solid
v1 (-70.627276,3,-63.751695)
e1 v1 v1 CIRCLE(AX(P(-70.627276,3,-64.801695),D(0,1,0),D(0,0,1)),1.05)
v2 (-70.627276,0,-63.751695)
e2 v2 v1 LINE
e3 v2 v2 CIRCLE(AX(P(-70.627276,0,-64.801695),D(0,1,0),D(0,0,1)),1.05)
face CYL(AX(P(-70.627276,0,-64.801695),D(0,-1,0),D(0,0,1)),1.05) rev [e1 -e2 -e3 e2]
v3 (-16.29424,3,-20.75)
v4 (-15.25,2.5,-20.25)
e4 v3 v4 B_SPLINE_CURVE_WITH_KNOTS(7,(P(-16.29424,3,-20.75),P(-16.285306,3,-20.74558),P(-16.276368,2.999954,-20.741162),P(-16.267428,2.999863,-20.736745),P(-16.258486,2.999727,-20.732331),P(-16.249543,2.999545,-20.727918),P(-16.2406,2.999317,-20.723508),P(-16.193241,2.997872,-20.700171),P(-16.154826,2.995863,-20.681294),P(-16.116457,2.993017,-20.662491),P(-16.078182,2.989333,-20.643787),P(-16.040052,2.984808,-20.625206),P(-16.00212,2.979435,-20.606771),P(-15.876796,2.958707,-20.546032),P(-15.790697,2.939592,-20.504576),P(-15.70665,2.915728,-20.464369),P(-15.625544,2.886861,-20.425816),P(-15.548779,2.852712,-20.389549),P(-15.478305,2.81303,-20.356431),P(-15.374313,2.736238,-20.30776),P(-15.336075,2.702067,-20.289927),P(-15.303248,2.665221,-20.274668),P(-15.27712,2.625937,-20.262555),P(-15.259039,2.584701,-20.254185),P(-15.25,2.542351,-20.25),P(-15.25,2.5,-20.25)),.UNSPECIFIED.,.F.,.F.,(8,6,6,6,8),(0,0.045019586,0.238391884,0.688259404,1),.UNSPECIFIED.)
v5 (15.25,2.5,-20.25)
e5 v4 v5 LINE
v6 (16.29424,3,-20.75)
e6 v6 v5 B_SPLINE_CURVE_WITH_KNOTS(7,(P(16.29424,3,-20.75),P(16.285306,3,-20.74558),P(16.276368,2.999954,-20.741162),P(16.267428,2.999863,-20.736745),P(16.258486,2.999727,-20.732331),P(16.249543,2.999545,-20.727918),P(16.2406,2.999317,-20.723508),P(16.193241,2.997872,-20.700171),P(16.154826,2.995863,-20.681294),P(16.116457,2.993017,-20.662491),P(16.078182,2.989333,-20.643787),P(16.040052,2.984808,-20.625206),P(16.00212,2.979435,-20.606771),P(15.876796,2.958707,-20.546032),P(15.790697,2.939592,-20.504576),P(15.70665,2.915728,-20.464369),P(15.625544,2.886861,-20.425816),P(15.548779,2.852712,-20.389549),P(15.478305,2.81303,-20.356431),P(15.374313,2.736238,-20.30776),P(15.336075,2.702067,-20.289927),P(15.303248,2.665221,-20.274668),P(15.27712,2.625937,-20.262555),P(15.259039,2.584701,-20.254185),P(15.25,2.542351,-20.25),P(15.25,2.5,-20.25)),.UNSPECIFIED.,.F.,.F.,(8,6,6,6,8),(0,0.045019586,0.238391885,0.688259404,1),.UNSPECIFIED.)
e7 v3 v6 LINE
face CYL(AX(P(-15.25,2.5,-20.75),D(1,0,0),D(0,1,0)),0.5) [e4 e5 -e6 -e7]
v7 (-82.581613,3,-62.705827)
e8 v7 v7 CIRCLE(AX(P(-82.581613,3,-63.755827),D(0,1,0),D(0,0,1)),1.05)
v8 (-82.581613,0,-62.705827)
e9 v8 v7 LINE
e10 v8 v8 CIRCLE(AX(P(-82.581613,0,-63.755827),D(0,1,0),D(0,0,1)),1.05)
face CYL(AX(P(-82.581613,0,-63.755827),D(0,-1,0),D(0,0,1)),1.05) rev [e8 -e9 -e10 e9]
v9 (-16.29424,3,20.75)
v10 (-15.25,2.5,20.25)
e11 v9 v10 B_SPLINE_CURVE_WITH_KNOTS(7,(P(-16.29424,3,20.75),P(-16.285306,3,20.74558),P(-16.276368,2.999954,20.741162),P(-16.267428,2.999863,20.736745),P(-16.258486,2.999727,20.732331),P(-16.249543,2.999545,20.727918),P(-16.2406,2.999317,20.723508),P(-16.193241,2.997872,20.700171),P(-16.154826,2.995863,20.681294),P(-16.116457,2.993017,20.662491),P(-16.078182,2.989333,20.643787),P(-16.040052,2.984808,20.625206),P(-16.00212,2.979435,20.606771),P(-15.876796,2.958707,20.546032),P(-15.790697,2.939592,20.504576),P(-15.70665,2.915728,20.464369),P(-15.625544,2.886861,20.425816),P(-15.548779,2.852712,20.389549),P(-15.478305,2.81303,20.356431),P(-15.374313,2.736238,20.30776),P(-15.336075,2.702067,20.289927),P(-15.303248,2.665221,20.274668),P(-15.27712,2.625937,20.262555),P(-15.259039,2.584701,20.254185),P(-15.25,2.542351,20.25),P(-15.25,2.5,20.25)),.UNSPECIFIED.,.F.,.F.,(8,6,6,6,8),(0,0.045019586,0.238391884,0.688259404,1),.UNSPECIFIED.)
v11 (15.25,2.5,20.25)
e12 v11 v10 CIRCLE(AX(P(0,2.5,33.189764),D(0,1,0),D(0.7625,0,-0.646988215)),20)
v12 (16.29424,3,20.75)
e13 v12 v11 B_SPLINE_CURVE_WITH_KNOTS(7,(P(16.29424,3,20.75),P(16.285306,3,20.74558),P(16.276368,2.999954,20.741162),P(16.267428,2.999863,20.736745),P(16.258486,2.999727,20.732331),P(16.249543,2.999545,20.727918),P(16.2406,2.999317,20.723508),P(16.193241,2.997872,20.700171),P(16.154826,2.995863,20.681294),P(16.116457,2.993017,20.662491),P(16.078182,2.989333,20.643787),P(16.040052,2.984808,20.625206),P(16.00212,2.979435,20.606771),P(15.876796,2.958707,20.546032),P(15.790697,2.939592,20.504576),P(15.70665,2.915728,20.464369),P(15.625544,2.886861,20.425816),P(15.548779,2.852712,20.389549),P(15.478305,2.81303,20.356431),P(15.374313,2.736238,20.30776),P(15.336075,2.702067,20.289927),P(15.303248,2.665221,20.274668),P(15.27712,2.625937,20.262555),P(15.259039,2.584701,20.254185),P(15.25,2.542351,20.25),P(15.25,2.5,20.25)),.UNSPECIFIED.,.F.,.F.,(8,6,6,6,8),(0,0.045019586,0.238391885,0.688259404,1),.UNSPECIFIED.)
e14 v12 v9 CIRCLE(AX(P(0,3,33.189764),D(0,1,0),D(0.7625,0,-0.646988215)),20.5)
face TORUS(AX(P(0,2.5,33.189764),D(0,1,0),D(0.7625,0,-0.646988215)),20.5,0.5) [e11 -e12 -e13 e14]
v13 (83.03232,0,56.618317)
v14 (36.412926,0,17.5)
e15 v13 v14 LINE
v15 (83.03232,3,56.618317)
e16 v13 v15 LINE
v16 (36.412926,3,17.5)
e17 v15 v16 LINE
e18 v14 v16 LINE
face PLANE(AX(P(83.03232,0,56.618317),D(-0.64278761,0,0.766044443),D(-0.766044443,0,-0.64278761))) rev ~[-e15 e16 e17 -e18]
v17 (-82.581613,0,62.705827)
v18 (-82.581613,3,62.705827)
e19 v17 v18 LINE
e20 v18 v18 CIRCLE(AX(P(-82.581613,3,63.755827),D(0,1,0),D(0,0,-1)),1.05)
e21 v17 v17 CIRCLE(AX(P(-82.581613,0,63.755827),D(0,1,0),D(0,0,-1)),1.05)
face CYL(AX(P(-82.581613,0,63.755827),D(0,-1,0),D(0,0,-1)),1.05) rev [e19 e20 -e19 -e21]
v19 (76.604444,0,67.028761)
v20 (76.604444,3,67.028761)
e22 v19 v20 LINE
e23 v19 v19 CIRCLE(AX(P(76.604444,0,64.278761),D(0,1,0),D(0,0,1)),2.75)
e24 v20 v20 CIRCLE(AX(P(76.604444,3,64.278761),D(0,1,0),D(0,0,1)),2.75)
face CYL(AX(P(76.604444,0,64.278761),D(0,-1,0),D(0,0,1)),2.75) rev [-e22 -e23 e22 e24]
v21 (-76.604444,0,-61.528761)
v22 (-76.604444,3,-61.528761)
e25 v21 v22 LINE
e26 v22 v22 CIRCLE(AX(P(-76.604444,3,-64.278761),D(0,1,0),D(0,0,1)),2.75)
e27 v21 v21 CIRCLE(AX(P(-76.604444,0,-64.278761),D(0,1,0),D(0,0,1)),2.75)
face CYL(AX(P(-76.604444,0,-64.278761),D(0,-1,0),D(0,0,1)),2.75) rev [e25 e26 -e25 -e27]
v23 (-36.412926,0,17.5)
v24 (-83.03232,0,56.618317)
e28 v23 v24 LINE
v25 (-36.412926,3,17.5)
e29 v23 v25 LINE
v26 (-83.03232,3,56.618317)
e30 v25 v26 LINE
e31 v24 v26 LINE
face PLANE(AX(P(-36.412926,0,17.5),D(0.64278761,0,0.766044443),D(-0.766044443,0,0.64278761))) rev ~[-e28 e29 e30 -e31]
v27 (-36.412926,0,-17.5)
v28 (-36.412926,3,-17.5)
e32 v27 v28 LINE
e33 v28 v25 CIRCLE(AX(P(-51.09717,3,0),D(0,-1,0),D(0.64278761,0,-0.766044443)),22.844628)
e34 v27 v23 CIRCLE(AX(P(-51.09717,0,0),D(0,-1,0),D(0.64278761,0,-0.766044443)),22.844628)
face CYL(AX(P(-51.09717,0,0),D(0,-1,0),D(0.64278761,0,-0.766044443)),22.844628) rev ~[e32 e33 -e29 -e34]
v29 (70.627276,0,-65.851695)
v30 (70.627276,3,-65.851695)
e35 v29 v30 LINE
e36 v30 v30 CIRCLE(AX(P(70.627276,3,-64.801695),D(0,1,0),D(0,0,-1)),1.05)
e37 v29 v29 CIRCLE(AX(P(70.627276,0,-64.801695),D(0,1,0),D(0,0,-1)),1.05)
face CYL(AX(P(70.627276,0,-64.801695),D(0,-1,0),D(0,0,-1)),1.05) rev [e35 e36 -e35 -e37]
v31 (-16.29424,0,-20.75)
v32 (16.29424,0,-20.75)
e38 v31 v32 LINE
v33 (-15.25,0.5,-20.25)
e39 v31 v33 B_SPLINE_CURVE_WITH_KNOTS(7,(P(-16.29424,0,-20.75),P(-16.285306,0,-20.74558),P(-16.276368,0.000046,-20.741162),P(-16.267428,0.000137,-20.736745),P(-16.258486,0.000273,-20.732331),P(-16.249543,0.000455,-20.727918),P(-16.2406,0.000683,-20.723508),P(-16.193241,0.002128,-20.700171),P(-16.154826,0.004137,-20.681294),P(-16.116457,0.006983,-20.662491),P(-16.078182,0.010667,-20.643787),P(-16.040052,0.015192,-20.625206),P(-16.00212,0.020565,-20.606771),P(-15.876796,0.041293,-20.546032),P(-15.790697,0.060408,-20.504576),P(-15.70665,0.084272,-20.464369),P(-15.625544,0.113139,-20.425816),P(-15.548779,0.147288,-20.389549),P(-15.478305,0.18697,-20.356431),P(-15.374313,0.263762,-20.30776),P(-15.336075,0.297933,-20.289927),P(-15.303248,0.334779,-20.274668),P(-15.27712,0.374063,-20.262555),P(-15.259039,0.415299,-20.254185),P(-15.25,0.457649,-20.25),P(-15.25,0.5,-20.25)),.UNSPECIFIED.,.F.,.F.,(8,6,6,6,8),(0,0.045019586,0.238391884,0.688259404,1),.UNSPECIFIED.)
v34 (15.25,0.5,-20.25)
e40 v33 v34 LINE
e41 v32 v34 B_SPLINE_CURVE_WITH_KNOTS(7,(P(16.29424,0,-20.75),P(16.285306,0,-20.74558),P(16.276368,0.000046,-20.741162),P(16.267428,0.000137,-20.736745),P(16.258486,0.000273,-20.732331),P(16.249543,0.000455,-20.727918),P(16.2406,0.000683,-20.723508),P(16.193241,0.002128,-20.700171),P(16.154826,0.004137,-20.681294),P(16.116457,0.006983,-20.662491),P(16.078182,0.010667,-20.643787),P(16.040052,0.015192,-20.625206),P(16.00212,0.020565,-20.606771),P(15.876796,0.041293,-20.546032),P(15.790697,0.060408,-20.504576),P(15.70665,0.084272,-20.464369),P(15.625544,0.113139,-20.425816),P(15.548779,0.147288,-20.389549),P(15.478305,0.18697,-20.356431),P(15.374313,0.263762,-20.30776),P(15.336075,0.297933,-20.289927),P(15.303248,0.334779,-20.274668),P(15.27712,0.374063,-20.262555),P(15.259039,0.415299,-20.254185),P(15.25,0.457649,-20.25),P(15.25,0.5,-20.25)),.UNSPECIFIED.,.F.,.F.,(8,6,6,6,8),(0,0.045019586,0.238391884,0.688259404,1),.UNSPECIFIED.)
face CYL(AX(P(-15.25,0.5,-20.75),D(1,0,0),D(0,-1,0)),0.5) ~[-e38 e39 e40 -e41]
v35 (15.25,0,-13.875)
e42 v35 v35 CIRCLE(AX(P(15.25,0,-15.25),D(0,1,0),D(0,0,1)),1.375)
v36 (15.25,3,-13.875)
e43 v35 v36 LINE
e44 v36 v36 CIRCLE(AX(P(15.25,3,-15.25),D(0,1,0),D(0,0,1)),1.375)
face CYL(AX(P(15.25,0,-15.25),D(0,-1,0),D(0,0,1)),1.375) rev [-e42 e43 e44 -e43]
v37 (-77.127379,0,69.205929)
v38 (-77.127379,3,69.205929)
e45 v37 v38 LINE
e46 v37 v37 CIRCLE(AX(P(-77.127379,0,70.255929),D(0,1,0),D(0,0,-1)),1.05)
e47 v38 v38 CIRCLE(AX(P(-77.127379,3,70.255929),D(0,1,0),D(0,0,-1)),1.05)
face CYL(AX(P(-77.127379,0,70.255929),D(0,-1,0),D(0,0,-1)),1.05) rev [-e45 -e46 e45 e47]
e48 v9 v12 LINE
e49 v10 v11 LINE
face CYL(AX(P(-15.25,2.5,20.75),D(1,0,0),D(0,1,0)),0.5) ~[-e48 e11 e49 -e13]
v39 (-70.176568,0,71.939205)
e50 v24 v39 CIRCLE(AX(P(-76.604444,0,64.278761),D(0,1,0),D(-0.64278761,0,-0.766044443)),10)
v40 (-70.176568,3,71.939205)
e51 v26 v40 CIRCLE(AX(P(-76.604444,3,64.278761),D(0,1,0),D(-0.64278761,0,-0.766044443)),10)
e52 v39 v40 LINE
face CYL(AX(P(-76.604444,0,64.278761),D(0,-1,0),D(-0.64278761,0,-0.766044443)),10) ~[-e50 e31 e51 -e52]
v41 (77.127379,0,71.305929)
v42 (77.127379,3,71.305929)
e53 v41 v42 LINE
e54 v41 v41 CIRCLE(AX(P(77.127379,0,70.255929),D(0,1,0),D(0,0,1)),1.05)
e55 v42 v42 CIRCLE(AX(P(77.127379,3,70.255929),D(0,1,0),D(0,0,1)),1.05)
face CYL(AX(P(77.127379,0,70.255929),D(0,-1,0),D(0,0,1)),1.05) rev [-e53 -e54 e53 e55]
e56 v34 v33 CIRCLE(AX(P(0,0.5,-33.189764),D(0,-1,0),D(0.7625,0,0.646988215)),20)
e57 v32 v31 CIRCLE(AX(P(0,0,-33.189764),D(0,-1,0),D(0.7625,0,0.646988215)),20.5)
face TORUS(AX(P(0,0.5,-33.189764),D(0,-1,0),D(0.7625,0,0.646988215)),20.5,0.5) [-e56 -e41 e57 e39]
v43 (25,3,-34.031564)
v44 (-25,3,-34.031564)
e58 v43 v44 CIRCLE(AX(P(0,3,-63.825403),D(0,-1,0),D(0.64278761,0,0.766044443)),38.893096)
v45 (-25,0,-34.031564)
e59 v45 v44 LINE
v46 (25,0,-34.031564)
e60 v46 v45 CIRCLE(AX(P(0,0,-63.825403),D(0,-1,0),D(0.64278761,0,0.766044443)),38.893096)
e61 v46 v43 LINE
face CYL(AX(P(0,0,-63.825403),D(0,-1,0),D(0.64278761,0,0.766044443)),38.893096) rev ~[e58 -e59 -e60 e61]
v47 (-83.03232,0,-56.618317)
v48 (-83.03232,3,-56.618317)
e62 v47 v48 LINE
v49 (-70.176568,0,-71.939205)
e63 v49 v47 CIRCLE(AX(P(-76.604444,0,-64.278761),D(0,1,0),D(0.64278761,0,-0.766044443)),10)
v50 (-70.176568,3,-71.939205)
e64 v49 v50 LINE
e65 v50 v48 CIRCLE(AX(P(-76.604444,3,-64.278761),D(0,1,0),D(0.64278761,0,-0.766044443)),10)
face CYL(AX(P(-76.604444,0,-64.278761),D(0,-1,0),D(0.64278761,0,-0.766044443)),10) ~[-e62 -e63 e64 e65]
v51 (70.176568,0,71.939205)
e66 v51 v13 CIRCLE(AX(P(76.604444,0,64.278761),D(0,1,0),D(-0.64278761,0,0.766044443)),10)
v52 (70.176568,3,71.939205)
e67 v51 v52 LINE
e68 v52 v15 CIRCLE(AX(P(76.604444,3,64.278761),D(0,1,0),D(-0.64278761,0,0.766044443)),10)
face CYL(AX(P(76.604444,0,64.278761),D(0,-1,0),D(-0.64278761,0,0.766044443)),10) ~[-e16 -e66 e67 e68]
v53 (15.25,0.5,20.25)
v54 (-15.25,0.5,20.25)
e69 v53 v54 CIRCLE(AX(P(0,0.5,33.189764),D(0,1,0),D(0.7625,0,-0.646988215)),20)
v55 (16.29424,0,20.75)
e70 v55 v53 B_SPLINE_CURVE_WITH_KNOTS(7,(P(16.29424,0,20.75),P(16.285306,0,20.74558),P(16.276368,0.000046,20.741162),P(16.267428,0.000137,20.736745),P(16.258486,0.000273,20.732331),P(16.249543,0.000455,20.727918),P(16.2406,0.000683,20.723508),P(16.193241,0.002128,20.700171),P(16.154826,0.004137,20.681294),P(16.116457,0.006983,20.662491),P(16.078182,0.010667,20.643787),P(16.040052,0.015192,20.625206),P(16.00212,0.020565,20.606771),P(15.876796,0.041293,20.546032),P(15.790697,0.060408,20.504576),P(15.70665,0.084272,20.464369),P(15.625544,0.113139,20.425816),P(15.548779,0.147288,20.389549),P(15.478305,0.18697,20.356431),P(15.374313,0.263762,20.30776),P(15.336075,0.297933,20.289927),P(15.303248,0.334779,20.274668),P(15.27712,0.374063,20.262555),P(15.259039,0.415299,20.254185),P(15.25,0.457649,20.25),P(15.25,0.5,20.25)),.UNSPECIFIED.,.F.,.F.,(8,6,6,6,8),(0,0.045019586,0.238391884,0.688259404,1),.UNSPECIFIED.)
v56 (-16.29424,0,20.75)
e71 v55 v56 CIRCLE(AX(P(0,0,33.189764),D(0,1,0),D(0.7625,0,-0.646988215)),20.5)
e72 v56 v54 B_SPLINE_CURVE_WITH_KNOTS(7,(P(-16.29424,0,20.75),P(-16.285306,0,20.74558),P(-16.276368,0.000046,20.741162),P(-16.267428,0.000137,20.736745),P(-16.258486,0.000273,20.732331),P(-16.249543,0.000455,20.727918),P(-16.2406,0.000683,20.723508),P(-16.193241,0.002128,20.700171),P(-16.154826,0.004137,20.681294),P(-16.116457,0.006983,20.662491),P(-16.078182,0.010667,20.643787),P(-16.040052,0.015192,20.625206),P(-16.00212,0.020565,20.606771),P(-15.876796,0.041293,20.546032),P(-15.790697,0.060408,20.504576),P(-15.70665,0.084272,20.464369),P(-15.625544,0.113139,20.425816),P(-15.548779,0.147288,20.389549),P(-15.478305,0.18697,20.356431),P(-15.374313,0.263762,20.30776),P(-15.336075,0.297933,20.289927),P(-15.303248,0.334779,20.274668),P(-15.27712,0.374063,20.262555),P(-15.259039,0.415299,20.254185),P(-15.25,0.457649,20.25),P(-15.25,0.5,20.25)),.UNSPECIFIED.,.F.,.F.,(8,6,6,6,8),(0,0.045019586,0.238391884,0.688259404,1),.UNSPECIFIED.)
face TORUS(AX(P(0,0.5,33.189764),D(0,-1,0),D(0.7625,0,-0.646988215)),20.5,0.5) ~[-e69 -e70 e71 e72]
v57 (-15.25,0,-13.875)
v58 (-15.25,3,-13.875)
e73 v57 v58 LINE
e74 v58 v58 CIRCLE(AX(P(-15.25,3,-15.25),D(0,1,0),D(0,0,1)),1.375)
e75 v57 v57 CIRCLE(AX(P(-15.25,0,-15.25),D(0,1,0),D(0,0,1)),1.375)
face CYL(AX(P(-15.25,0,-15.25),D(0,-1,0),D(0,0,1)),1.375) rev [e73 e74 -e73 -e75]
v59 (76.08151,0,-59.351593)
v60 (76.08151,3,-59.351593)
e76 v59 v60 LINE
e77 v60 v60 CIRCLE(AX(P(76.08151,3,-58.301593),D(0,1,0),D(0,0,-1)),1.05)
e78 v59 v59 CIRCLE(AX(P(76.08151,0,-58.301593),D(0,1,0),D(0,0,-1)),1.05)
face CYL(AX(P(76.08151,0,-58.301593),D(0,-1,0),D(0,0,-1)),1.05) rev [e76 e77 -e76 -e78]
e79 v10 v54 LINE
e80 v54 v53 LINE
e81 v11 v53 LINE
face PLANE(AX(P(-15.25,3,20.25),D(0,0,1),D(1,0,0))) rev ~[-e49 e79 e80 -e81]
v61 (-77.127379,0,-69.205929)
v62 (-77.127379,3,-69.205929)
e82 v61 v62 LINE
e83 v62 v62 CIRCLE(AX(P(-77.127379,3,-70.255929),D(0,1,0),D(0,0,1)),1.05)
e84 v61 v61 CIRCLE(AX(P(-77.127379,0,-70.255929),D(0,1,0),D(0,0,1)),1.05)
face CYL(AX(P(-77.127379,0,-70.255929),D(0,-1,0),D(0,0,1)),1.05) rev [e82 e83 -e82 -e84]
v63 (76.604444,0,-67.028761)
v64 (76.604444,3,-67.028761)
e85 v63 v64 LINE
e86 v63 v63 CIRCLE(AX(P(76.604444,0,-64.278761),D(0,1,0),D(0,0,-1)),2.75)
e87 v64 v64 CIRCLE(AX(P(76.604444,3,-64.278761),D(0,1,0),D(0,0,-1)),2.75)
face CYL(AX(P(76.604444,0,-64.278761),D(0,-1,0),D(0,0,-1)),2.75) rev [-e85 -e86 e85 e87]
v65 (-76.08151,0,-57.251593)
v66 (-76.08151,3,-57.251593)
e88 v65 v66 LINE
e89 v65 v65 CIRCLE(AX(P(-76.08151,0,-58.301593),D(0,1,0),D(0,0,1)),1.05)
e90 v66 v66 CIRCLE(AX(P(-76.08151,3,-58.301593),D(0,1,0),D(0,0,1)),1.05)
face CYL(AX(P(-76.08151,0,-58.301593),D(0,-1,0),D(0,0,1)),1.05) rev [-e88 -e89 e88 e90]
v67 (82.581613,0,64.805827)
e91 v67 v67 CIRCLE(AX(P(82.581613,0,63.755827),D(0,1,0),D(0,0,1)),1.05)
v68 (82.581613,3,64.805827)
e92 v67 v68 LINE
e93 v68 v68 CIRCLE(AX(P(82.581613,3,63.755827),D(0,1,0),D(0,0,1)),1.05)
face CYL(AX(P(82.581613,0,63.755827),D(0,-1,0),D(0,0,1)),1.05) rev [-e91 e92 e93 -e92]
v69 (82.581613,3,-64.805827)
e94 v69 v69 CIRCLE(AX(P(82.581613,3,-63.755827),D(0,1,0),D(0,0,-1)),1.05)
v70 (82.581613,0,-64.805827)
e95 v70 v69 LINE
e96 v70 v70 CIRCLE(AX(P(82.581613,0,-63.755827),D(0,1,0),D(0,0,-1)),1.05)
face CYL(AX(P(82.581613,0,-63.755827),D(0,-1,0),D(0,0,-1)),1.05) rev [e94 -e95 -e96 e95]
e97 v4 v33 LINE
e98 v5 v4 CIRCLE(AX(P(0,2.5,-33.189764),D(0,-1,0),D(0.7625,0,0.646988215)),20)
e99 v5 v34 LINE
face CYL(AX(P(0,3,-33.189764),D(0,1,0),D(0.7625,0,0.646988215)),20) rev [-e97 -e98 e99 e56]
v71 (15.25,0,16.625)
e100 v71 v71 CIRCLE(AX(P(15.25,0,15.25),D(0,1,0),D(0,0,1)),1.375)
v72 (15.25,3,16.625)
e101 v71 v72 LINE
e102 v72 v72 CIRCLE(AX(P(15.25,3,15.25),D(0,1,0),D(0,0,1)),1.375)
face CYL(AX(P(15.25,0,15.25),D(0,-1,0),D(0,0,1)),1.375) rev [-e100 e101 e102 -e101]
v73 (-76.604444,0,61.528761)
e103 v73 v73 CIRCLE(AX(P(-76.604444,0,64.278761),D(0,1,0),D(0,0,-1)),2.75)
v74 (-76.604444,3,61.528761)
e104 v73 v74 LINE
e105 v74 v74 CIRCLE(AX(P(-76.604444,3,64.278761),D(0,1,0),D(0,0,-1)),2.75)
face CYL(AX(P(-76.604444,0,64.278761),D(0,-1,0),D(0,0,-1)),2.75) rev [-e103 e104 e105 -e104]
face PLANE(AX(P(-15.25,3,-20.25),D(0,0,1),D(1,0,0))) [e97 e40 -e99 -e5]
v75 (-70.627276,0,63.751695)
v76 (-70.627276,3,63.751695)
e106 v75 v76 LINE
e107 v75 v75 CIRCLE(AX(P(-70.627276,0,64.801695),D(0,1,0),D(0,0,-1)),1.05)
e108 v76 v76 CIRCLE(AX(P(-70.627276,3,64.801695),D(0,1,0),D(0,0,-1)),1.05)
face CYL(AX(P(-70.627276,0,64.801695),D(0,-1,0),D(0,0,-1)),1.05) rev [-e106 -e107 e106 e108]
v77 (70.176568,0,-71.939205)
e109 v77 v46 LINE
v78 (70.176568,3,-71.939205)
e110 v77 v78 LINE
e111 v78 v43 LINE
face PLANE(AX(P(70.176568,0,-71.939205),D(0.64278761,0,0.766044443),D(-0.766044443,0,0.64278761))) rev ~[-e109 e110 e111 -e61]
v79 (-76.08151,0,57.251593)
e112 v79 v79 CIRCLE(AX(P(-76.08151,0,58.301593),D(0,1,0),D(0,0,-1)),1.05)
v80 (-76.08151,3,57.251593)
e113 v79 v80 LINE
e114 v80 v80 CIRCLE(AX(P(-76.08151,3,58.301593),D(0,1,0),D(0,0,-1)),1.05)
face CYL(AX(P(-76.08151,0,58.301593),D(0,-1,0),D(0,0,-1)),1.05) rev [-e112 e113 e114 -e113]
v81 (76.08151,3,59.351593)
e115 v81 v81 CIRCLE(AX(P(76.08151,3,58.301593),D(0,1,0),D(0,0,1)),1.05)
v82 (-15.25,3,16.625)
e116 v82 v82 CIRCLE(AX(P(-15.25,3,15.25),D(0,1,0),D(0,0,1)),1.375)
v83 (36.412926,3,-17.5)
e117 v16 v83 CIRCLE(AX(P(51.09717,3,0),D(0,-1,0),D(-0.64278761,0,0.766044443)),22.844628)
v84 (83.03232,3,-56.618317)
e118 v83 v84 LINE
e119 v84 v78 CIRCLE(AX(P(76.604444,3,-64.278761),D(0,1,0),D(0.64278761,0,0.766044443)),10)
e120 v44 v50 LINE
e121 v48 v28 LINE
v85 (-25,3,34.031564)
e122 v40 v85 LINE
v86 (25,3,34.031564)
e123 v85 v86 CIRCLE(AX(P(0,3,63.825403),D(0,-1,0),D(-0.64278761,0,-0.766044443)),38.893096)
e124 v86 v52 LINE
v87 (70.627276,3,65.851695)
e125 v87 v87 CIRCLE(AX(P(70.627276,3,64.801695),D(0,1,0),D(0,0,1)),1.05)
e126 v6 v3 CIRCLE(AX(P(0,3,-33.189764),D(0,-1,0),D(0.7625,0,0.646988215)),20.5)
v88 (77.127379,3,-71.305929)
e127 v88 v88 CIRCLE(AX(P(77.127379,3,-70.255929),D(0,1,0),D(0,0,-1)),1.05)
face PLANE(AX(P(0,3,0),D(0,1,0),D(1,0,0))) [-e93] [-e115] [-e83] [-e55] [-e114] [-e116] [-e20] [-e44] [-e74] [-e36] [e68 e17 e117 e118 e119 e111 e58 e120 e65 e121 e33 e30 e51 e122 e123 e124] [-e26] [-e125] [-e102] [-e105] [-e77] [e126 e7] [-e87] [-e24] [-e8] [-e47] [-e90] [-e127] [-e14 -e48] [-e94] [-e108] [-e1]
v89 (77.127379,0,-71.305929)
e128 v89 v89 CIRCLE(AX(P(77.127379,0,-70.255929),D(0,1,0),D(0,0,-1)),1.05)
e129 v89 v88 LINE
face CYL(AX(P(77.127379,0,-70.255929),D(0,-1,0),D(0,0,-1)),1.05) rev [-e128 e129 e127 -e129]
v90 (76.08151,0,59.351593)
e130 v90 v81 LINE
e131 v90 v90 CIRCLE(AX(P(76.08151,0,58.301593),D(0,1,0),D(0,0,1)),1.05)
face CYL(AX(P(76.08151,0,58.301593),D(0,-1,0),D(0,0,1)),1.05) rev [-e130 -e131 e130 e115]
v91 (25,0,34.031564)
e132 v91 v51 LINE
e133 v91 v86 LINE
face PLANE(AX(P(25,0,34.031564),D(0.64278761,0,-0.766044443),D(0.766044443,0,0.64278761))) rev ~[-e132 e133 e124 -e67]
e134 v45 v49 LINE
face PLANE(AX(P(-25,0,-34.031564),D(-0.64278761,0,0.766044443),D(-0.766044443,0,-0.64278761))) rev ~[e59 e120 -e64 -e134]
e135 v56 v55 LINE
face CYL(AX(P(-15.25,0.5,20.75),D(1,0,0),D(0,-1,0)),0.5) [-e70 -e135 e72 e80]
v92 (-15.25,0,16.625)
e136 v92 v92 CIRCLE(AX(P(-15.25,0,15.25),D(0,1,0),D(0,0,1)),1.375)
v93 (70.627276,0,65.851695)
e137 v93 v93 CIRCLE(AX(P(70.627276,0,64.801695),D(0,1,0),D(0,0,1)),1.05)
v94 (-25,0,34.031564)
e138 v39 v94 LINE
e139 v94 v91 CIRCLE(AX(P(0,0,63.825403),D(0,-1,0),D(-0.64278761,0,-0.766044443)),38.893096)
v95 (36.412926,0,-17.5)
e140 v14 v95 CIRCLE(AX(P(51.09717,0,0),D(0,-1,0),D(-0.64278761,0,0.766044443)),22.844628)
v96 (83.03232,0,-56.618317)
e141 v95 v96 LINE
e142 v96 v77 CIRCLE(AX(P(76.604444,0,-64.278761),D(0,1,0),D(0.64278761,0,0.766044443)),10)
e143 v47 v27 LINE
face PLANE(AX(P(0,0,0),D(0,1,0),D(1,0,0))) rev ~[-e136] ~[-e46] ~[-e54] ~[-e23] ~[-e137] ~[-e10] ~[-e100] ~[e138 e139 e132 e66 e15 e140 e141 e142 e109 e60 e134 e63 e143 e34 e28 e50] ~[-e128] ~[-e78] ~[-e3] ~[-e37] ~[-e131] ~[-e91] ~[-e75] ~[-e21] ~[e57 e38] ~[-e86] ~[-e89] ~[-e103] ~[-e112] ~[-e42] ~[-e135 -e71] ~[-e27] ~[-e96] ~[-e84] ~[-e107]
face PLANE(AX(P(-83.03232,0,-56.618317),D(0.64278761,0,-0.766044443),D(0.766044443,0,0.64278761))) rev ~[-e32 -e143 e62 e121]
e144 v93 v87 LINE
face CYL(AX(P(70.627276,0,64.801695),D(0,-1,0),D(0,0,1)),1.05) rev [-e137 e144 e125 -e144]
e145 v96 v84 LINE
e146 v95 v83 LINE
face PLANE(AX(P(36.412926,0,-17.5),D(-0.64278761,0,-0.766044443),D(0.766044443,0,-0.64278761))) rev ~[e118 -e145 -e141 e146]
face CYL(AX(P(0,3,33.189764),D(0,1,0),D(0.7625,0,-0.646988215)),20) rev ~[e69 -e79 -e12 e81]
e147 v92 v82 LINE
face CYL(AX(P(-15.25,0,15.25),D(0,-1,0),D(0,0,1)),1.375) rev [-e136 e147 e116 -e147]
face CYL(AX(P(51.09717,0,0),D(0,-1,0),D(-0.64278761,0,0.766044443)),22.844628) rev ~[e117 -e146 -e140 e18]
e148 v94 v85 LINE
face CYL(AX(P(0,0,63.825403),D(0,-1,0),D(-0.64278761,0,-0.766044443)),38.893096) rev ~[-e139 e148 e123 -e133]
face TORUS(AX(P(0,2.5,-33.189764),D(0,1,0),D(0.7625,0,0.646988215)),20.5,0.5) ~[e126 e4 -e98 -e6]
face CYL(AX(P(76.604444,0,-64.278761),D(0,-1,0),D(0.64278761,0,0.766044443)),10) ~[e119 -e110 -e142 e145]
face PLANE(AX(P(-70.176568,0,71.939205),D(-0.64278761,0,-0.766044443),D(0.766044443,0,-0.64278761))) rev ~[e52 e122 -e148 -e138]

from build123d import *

# Parameters (mm, degrees)
SKETCH2_R           = 1.05
SKETCH2_R_2         = 2.75
BOSS_EXTRUDE2_DEPTH = 3
SKETCH4_R           = 1.375
CUT_EXTRUDE1_DEPTH  = 3
CUT_EXTRUDE2_DEPTH  = 3
FILLET3_R           = 0.5


with BuildPart() as part:
    # Sketch2 → Boss-Extrude2 (new body)
    with BuildSketch(Plane(origin=(0, 0, 0), x_dir=(1, 0, 0), z_dir=(0, 1, 0))):
        with BuildLine():
            Line((-83.032320409, 56.618316537), (-36.412926139, 17.5))
            ThreePointArc((-36.412926139, 17.5), (-28.252542121, 0), (-36.412926139, -17.5))
            Line((-36.412926139, -17.5), (-83.032320409, -56.618316537))
            ThreePointArc((-83.032320409, -56.618316537), (-84.264888743, -70.706637066), (-70.176568215, -71.9392054))
            Line((-70.176568215, -71.9392054), (-25, -34.031563673))
            ThreePointArc((-25, -34.031563673), (0, -24.932307816), (25, -34.031563673))
            Line((25, -34.031563673), (70.176568215, -71.9392054))
            ThreePointArc((70.176568215, -71.9392054), (84.264888743, -70.706637066), (83.032320409, -56.618316537))
            Line((83.032320409, -56.618316537), (36.412926139, -17.5))
            ThreePointArc((36.412926139, -17.5), (28.252542121, 0), (36.412926139, 17.5))
            Line((36.412926139, 17.5), (83.032320409, 56.618316537))
            ThreePointArc((83.032320409, 56.618316537), (84.264888743, 70.706637066), (70.176568215, 71.9392054))
            Line((70.176568215, 71.9392054), (25, 34.031563673))
            ThreePointArc((25, 34.031563673), (0, 24.932307816), (-25, 34.031563673))
            Line((-25, 34.031563673), (-70.176568215, 71.9392054))
            ThreePointArc((-70.176568215, 71.9392054), (-84.264888743, 70.706637066), (-83.032320409, 56.618316537))
        make_face()
        with Locations(Location((-77.127378768, 70.255929157, 0), (0, 0, 270))):
            Circle(SKETCH2_R, mode=Mode.SUBTRACT)
        with Locations(Location((-70.627276123, 64.801695425, 0), (0, 0, 270))):
            Circle(SKETCH2_R, mode=Mode.SUBTRACT)
        with Locations(Location((-76.081509855, 58.30159278, 0), (0, 0, 270))):
            Circle(SKETCH2_R, mode=Mode.SUBTRACT)
        with Locations(Location((-82.5816125, 63.755826512, 0), (0, 0, 270))):
            Circle(SKETCH2_R, mode=Mode.SUBTRACT)
        with Locations(Location((-76.604444312, 64.278760969, 0), (0, 0, 270))):
            Circle(SKETCH2_R_2, mode=Mode.SUBTRACT)
        with Locations(Location((-77.127378768, -70.255929157, 0), (0, 0, 90))):
            Circle(SKETCH2_R, mode=Mode.SUBTRACT)
        with Locations(Location((-76.081509855, -58.30159278, 0), (0, 0, 90))):
            Circle(SKETCH2_R, mode=Mode.SUBTRACT)
        with Locations(Location((-82.5816125, -63.755826512, 0), (0, 0, 90))):
            Circle(SKETCH2_R, mode=Mode.SUBTRACT)
        with Locations(Location((-76.604444312, -64.278760969, 0), (0, 0, 90))):
            Circle(SKETCH2_R_2, mode=Mode.SUBTRACT)
        with Locations(Location((-70.627276123, -64.801695425, 0), (0, 0, 90))):
            Circle(SKETCH2_R, mode=Mode.SUBTRACT)
        with Locations(Location((70.627276123, -64.801695425, 0), (0, 0, 270))):
            Circle(SKETCH2_R, mode=Mode.SUBTRACT)
        with Locations(Location((76.604444312, -64.278760969, 0), (0, 0, 270))):
            Circle(SKETCH2_R_2, mode=Mode.SUBTRACT)
        with Locations(Location((82.5816125, -63.755826512, 0), (0, 0, 270))):
            Circle(SKETCH2_R, mode=Mode.SUBTRACT)
        with Locations(Location((76.081509855, -58.30159278, 0), (0, 0, 270))):
            Circle(SKETCH2_R, mode=Mode.SUBTRACT)
        with Locations(Location((77.127378768, -70.255929157, 0), (0, 0, 270))):
            Circle(SKETCH2_R, mode=Mode.SUBTRACT)
        with Locations(Location((76.604444312, 64.278760969, 0), (0, 0, 90))):
            Circle(SKETCH2_R_2, mode=Mode.SUBTRACT)
        with Locations(Location((82.5816125, 63.755826512, 0), (0, 0, 90))):
            Circle(SKETCH2_R, mode=Mode.SUBTRACT)
        with Locations(Location((76.081509855, 58.30159278, 0), (0, 0, 90))):
            Circle(SKETCH2_R, mode=Mode.SUBTRACT)
        with Locations(Location((70.627276123, 64.801695425, 0), (0, 0, 90))):
            Circle(SKETCH2_R, mode=Mode.SUBTRACT)
        with Locations(Location((77.127378768, 70.255929157, 0), (0, 0, 90))):
            Circle(SKETCH2_R, mode=Mode.SUBTRACT)
    extrude(amount=BOSS_EXTRUDE2_DEPTH)

    # Sketch4 → Cut-Extrude1 (cut)
    with BuildSketch(Plane(origin=(0, 0, 0), x_dir=(1, 0, 0), z_dir=(0, 1, 0))):
        with Locations(Location((-15.25, 15.25, 0), (0, 0, 270))):
            Circle(SKETCH4_R)
        with Locations(Location((15.25, -15.25, 0), (0, 0, 270))):
            Circle(SKETCH4_R)
        with Locations(Location((-15.25, -15.25, 0), (0, 0, 270))):
            Circle(SKETCH4_R)
        with Locations(Location((15.25, 15.25, 0), (0, 0, 270))):
            Circle(SKETCH4_R)
    extrude(amount=CUT_EXTRUDE1_DEPTH, mode=Mode.SUBTRACT)

    # Sketch5 → Cut-Extrude2 (cut)
    with BuildSketch(Plane(origin=(0, 3, 0), x_dir=(1, 0, 0), z_dir=(0, 1, 0))):
        with BuildLine():
            Line((-15.25, 20.25), (15.25, 20.25))
            ThreePointArc((15.25, 20.25), (0, 13.189764295), (-15.25, 20.25))
        make_face()
        with BuildLine():
            Line((-15.25, -20.25), (15.25, -20.25))
            ThreePointArc((15.25, -20.25), (0, -13.189764295), (-15.25, -20.25))
        make_face()
    extrude(amount=-CUT_EXTRUDE2_DEPTH, mode=Mode.SUBTRACT)

    # Fillet3
    fillet3_edges = [part.edges().sort_by_distance(p)[0] for p in [
        (0, 0, -13.189764295),
        (0, 0, -20.25),
        (0, 3, -13.189764295),
        (0, 3, -20.25),
        (0, 0, 13.189764295),
        (0, 0, 20.25),
        (0, 3, 13.189764295),
        (0, 3, 20.25),
    ]]
    fillet(fillet3_edges, radius=FILLET3_R)


solid = part.part
